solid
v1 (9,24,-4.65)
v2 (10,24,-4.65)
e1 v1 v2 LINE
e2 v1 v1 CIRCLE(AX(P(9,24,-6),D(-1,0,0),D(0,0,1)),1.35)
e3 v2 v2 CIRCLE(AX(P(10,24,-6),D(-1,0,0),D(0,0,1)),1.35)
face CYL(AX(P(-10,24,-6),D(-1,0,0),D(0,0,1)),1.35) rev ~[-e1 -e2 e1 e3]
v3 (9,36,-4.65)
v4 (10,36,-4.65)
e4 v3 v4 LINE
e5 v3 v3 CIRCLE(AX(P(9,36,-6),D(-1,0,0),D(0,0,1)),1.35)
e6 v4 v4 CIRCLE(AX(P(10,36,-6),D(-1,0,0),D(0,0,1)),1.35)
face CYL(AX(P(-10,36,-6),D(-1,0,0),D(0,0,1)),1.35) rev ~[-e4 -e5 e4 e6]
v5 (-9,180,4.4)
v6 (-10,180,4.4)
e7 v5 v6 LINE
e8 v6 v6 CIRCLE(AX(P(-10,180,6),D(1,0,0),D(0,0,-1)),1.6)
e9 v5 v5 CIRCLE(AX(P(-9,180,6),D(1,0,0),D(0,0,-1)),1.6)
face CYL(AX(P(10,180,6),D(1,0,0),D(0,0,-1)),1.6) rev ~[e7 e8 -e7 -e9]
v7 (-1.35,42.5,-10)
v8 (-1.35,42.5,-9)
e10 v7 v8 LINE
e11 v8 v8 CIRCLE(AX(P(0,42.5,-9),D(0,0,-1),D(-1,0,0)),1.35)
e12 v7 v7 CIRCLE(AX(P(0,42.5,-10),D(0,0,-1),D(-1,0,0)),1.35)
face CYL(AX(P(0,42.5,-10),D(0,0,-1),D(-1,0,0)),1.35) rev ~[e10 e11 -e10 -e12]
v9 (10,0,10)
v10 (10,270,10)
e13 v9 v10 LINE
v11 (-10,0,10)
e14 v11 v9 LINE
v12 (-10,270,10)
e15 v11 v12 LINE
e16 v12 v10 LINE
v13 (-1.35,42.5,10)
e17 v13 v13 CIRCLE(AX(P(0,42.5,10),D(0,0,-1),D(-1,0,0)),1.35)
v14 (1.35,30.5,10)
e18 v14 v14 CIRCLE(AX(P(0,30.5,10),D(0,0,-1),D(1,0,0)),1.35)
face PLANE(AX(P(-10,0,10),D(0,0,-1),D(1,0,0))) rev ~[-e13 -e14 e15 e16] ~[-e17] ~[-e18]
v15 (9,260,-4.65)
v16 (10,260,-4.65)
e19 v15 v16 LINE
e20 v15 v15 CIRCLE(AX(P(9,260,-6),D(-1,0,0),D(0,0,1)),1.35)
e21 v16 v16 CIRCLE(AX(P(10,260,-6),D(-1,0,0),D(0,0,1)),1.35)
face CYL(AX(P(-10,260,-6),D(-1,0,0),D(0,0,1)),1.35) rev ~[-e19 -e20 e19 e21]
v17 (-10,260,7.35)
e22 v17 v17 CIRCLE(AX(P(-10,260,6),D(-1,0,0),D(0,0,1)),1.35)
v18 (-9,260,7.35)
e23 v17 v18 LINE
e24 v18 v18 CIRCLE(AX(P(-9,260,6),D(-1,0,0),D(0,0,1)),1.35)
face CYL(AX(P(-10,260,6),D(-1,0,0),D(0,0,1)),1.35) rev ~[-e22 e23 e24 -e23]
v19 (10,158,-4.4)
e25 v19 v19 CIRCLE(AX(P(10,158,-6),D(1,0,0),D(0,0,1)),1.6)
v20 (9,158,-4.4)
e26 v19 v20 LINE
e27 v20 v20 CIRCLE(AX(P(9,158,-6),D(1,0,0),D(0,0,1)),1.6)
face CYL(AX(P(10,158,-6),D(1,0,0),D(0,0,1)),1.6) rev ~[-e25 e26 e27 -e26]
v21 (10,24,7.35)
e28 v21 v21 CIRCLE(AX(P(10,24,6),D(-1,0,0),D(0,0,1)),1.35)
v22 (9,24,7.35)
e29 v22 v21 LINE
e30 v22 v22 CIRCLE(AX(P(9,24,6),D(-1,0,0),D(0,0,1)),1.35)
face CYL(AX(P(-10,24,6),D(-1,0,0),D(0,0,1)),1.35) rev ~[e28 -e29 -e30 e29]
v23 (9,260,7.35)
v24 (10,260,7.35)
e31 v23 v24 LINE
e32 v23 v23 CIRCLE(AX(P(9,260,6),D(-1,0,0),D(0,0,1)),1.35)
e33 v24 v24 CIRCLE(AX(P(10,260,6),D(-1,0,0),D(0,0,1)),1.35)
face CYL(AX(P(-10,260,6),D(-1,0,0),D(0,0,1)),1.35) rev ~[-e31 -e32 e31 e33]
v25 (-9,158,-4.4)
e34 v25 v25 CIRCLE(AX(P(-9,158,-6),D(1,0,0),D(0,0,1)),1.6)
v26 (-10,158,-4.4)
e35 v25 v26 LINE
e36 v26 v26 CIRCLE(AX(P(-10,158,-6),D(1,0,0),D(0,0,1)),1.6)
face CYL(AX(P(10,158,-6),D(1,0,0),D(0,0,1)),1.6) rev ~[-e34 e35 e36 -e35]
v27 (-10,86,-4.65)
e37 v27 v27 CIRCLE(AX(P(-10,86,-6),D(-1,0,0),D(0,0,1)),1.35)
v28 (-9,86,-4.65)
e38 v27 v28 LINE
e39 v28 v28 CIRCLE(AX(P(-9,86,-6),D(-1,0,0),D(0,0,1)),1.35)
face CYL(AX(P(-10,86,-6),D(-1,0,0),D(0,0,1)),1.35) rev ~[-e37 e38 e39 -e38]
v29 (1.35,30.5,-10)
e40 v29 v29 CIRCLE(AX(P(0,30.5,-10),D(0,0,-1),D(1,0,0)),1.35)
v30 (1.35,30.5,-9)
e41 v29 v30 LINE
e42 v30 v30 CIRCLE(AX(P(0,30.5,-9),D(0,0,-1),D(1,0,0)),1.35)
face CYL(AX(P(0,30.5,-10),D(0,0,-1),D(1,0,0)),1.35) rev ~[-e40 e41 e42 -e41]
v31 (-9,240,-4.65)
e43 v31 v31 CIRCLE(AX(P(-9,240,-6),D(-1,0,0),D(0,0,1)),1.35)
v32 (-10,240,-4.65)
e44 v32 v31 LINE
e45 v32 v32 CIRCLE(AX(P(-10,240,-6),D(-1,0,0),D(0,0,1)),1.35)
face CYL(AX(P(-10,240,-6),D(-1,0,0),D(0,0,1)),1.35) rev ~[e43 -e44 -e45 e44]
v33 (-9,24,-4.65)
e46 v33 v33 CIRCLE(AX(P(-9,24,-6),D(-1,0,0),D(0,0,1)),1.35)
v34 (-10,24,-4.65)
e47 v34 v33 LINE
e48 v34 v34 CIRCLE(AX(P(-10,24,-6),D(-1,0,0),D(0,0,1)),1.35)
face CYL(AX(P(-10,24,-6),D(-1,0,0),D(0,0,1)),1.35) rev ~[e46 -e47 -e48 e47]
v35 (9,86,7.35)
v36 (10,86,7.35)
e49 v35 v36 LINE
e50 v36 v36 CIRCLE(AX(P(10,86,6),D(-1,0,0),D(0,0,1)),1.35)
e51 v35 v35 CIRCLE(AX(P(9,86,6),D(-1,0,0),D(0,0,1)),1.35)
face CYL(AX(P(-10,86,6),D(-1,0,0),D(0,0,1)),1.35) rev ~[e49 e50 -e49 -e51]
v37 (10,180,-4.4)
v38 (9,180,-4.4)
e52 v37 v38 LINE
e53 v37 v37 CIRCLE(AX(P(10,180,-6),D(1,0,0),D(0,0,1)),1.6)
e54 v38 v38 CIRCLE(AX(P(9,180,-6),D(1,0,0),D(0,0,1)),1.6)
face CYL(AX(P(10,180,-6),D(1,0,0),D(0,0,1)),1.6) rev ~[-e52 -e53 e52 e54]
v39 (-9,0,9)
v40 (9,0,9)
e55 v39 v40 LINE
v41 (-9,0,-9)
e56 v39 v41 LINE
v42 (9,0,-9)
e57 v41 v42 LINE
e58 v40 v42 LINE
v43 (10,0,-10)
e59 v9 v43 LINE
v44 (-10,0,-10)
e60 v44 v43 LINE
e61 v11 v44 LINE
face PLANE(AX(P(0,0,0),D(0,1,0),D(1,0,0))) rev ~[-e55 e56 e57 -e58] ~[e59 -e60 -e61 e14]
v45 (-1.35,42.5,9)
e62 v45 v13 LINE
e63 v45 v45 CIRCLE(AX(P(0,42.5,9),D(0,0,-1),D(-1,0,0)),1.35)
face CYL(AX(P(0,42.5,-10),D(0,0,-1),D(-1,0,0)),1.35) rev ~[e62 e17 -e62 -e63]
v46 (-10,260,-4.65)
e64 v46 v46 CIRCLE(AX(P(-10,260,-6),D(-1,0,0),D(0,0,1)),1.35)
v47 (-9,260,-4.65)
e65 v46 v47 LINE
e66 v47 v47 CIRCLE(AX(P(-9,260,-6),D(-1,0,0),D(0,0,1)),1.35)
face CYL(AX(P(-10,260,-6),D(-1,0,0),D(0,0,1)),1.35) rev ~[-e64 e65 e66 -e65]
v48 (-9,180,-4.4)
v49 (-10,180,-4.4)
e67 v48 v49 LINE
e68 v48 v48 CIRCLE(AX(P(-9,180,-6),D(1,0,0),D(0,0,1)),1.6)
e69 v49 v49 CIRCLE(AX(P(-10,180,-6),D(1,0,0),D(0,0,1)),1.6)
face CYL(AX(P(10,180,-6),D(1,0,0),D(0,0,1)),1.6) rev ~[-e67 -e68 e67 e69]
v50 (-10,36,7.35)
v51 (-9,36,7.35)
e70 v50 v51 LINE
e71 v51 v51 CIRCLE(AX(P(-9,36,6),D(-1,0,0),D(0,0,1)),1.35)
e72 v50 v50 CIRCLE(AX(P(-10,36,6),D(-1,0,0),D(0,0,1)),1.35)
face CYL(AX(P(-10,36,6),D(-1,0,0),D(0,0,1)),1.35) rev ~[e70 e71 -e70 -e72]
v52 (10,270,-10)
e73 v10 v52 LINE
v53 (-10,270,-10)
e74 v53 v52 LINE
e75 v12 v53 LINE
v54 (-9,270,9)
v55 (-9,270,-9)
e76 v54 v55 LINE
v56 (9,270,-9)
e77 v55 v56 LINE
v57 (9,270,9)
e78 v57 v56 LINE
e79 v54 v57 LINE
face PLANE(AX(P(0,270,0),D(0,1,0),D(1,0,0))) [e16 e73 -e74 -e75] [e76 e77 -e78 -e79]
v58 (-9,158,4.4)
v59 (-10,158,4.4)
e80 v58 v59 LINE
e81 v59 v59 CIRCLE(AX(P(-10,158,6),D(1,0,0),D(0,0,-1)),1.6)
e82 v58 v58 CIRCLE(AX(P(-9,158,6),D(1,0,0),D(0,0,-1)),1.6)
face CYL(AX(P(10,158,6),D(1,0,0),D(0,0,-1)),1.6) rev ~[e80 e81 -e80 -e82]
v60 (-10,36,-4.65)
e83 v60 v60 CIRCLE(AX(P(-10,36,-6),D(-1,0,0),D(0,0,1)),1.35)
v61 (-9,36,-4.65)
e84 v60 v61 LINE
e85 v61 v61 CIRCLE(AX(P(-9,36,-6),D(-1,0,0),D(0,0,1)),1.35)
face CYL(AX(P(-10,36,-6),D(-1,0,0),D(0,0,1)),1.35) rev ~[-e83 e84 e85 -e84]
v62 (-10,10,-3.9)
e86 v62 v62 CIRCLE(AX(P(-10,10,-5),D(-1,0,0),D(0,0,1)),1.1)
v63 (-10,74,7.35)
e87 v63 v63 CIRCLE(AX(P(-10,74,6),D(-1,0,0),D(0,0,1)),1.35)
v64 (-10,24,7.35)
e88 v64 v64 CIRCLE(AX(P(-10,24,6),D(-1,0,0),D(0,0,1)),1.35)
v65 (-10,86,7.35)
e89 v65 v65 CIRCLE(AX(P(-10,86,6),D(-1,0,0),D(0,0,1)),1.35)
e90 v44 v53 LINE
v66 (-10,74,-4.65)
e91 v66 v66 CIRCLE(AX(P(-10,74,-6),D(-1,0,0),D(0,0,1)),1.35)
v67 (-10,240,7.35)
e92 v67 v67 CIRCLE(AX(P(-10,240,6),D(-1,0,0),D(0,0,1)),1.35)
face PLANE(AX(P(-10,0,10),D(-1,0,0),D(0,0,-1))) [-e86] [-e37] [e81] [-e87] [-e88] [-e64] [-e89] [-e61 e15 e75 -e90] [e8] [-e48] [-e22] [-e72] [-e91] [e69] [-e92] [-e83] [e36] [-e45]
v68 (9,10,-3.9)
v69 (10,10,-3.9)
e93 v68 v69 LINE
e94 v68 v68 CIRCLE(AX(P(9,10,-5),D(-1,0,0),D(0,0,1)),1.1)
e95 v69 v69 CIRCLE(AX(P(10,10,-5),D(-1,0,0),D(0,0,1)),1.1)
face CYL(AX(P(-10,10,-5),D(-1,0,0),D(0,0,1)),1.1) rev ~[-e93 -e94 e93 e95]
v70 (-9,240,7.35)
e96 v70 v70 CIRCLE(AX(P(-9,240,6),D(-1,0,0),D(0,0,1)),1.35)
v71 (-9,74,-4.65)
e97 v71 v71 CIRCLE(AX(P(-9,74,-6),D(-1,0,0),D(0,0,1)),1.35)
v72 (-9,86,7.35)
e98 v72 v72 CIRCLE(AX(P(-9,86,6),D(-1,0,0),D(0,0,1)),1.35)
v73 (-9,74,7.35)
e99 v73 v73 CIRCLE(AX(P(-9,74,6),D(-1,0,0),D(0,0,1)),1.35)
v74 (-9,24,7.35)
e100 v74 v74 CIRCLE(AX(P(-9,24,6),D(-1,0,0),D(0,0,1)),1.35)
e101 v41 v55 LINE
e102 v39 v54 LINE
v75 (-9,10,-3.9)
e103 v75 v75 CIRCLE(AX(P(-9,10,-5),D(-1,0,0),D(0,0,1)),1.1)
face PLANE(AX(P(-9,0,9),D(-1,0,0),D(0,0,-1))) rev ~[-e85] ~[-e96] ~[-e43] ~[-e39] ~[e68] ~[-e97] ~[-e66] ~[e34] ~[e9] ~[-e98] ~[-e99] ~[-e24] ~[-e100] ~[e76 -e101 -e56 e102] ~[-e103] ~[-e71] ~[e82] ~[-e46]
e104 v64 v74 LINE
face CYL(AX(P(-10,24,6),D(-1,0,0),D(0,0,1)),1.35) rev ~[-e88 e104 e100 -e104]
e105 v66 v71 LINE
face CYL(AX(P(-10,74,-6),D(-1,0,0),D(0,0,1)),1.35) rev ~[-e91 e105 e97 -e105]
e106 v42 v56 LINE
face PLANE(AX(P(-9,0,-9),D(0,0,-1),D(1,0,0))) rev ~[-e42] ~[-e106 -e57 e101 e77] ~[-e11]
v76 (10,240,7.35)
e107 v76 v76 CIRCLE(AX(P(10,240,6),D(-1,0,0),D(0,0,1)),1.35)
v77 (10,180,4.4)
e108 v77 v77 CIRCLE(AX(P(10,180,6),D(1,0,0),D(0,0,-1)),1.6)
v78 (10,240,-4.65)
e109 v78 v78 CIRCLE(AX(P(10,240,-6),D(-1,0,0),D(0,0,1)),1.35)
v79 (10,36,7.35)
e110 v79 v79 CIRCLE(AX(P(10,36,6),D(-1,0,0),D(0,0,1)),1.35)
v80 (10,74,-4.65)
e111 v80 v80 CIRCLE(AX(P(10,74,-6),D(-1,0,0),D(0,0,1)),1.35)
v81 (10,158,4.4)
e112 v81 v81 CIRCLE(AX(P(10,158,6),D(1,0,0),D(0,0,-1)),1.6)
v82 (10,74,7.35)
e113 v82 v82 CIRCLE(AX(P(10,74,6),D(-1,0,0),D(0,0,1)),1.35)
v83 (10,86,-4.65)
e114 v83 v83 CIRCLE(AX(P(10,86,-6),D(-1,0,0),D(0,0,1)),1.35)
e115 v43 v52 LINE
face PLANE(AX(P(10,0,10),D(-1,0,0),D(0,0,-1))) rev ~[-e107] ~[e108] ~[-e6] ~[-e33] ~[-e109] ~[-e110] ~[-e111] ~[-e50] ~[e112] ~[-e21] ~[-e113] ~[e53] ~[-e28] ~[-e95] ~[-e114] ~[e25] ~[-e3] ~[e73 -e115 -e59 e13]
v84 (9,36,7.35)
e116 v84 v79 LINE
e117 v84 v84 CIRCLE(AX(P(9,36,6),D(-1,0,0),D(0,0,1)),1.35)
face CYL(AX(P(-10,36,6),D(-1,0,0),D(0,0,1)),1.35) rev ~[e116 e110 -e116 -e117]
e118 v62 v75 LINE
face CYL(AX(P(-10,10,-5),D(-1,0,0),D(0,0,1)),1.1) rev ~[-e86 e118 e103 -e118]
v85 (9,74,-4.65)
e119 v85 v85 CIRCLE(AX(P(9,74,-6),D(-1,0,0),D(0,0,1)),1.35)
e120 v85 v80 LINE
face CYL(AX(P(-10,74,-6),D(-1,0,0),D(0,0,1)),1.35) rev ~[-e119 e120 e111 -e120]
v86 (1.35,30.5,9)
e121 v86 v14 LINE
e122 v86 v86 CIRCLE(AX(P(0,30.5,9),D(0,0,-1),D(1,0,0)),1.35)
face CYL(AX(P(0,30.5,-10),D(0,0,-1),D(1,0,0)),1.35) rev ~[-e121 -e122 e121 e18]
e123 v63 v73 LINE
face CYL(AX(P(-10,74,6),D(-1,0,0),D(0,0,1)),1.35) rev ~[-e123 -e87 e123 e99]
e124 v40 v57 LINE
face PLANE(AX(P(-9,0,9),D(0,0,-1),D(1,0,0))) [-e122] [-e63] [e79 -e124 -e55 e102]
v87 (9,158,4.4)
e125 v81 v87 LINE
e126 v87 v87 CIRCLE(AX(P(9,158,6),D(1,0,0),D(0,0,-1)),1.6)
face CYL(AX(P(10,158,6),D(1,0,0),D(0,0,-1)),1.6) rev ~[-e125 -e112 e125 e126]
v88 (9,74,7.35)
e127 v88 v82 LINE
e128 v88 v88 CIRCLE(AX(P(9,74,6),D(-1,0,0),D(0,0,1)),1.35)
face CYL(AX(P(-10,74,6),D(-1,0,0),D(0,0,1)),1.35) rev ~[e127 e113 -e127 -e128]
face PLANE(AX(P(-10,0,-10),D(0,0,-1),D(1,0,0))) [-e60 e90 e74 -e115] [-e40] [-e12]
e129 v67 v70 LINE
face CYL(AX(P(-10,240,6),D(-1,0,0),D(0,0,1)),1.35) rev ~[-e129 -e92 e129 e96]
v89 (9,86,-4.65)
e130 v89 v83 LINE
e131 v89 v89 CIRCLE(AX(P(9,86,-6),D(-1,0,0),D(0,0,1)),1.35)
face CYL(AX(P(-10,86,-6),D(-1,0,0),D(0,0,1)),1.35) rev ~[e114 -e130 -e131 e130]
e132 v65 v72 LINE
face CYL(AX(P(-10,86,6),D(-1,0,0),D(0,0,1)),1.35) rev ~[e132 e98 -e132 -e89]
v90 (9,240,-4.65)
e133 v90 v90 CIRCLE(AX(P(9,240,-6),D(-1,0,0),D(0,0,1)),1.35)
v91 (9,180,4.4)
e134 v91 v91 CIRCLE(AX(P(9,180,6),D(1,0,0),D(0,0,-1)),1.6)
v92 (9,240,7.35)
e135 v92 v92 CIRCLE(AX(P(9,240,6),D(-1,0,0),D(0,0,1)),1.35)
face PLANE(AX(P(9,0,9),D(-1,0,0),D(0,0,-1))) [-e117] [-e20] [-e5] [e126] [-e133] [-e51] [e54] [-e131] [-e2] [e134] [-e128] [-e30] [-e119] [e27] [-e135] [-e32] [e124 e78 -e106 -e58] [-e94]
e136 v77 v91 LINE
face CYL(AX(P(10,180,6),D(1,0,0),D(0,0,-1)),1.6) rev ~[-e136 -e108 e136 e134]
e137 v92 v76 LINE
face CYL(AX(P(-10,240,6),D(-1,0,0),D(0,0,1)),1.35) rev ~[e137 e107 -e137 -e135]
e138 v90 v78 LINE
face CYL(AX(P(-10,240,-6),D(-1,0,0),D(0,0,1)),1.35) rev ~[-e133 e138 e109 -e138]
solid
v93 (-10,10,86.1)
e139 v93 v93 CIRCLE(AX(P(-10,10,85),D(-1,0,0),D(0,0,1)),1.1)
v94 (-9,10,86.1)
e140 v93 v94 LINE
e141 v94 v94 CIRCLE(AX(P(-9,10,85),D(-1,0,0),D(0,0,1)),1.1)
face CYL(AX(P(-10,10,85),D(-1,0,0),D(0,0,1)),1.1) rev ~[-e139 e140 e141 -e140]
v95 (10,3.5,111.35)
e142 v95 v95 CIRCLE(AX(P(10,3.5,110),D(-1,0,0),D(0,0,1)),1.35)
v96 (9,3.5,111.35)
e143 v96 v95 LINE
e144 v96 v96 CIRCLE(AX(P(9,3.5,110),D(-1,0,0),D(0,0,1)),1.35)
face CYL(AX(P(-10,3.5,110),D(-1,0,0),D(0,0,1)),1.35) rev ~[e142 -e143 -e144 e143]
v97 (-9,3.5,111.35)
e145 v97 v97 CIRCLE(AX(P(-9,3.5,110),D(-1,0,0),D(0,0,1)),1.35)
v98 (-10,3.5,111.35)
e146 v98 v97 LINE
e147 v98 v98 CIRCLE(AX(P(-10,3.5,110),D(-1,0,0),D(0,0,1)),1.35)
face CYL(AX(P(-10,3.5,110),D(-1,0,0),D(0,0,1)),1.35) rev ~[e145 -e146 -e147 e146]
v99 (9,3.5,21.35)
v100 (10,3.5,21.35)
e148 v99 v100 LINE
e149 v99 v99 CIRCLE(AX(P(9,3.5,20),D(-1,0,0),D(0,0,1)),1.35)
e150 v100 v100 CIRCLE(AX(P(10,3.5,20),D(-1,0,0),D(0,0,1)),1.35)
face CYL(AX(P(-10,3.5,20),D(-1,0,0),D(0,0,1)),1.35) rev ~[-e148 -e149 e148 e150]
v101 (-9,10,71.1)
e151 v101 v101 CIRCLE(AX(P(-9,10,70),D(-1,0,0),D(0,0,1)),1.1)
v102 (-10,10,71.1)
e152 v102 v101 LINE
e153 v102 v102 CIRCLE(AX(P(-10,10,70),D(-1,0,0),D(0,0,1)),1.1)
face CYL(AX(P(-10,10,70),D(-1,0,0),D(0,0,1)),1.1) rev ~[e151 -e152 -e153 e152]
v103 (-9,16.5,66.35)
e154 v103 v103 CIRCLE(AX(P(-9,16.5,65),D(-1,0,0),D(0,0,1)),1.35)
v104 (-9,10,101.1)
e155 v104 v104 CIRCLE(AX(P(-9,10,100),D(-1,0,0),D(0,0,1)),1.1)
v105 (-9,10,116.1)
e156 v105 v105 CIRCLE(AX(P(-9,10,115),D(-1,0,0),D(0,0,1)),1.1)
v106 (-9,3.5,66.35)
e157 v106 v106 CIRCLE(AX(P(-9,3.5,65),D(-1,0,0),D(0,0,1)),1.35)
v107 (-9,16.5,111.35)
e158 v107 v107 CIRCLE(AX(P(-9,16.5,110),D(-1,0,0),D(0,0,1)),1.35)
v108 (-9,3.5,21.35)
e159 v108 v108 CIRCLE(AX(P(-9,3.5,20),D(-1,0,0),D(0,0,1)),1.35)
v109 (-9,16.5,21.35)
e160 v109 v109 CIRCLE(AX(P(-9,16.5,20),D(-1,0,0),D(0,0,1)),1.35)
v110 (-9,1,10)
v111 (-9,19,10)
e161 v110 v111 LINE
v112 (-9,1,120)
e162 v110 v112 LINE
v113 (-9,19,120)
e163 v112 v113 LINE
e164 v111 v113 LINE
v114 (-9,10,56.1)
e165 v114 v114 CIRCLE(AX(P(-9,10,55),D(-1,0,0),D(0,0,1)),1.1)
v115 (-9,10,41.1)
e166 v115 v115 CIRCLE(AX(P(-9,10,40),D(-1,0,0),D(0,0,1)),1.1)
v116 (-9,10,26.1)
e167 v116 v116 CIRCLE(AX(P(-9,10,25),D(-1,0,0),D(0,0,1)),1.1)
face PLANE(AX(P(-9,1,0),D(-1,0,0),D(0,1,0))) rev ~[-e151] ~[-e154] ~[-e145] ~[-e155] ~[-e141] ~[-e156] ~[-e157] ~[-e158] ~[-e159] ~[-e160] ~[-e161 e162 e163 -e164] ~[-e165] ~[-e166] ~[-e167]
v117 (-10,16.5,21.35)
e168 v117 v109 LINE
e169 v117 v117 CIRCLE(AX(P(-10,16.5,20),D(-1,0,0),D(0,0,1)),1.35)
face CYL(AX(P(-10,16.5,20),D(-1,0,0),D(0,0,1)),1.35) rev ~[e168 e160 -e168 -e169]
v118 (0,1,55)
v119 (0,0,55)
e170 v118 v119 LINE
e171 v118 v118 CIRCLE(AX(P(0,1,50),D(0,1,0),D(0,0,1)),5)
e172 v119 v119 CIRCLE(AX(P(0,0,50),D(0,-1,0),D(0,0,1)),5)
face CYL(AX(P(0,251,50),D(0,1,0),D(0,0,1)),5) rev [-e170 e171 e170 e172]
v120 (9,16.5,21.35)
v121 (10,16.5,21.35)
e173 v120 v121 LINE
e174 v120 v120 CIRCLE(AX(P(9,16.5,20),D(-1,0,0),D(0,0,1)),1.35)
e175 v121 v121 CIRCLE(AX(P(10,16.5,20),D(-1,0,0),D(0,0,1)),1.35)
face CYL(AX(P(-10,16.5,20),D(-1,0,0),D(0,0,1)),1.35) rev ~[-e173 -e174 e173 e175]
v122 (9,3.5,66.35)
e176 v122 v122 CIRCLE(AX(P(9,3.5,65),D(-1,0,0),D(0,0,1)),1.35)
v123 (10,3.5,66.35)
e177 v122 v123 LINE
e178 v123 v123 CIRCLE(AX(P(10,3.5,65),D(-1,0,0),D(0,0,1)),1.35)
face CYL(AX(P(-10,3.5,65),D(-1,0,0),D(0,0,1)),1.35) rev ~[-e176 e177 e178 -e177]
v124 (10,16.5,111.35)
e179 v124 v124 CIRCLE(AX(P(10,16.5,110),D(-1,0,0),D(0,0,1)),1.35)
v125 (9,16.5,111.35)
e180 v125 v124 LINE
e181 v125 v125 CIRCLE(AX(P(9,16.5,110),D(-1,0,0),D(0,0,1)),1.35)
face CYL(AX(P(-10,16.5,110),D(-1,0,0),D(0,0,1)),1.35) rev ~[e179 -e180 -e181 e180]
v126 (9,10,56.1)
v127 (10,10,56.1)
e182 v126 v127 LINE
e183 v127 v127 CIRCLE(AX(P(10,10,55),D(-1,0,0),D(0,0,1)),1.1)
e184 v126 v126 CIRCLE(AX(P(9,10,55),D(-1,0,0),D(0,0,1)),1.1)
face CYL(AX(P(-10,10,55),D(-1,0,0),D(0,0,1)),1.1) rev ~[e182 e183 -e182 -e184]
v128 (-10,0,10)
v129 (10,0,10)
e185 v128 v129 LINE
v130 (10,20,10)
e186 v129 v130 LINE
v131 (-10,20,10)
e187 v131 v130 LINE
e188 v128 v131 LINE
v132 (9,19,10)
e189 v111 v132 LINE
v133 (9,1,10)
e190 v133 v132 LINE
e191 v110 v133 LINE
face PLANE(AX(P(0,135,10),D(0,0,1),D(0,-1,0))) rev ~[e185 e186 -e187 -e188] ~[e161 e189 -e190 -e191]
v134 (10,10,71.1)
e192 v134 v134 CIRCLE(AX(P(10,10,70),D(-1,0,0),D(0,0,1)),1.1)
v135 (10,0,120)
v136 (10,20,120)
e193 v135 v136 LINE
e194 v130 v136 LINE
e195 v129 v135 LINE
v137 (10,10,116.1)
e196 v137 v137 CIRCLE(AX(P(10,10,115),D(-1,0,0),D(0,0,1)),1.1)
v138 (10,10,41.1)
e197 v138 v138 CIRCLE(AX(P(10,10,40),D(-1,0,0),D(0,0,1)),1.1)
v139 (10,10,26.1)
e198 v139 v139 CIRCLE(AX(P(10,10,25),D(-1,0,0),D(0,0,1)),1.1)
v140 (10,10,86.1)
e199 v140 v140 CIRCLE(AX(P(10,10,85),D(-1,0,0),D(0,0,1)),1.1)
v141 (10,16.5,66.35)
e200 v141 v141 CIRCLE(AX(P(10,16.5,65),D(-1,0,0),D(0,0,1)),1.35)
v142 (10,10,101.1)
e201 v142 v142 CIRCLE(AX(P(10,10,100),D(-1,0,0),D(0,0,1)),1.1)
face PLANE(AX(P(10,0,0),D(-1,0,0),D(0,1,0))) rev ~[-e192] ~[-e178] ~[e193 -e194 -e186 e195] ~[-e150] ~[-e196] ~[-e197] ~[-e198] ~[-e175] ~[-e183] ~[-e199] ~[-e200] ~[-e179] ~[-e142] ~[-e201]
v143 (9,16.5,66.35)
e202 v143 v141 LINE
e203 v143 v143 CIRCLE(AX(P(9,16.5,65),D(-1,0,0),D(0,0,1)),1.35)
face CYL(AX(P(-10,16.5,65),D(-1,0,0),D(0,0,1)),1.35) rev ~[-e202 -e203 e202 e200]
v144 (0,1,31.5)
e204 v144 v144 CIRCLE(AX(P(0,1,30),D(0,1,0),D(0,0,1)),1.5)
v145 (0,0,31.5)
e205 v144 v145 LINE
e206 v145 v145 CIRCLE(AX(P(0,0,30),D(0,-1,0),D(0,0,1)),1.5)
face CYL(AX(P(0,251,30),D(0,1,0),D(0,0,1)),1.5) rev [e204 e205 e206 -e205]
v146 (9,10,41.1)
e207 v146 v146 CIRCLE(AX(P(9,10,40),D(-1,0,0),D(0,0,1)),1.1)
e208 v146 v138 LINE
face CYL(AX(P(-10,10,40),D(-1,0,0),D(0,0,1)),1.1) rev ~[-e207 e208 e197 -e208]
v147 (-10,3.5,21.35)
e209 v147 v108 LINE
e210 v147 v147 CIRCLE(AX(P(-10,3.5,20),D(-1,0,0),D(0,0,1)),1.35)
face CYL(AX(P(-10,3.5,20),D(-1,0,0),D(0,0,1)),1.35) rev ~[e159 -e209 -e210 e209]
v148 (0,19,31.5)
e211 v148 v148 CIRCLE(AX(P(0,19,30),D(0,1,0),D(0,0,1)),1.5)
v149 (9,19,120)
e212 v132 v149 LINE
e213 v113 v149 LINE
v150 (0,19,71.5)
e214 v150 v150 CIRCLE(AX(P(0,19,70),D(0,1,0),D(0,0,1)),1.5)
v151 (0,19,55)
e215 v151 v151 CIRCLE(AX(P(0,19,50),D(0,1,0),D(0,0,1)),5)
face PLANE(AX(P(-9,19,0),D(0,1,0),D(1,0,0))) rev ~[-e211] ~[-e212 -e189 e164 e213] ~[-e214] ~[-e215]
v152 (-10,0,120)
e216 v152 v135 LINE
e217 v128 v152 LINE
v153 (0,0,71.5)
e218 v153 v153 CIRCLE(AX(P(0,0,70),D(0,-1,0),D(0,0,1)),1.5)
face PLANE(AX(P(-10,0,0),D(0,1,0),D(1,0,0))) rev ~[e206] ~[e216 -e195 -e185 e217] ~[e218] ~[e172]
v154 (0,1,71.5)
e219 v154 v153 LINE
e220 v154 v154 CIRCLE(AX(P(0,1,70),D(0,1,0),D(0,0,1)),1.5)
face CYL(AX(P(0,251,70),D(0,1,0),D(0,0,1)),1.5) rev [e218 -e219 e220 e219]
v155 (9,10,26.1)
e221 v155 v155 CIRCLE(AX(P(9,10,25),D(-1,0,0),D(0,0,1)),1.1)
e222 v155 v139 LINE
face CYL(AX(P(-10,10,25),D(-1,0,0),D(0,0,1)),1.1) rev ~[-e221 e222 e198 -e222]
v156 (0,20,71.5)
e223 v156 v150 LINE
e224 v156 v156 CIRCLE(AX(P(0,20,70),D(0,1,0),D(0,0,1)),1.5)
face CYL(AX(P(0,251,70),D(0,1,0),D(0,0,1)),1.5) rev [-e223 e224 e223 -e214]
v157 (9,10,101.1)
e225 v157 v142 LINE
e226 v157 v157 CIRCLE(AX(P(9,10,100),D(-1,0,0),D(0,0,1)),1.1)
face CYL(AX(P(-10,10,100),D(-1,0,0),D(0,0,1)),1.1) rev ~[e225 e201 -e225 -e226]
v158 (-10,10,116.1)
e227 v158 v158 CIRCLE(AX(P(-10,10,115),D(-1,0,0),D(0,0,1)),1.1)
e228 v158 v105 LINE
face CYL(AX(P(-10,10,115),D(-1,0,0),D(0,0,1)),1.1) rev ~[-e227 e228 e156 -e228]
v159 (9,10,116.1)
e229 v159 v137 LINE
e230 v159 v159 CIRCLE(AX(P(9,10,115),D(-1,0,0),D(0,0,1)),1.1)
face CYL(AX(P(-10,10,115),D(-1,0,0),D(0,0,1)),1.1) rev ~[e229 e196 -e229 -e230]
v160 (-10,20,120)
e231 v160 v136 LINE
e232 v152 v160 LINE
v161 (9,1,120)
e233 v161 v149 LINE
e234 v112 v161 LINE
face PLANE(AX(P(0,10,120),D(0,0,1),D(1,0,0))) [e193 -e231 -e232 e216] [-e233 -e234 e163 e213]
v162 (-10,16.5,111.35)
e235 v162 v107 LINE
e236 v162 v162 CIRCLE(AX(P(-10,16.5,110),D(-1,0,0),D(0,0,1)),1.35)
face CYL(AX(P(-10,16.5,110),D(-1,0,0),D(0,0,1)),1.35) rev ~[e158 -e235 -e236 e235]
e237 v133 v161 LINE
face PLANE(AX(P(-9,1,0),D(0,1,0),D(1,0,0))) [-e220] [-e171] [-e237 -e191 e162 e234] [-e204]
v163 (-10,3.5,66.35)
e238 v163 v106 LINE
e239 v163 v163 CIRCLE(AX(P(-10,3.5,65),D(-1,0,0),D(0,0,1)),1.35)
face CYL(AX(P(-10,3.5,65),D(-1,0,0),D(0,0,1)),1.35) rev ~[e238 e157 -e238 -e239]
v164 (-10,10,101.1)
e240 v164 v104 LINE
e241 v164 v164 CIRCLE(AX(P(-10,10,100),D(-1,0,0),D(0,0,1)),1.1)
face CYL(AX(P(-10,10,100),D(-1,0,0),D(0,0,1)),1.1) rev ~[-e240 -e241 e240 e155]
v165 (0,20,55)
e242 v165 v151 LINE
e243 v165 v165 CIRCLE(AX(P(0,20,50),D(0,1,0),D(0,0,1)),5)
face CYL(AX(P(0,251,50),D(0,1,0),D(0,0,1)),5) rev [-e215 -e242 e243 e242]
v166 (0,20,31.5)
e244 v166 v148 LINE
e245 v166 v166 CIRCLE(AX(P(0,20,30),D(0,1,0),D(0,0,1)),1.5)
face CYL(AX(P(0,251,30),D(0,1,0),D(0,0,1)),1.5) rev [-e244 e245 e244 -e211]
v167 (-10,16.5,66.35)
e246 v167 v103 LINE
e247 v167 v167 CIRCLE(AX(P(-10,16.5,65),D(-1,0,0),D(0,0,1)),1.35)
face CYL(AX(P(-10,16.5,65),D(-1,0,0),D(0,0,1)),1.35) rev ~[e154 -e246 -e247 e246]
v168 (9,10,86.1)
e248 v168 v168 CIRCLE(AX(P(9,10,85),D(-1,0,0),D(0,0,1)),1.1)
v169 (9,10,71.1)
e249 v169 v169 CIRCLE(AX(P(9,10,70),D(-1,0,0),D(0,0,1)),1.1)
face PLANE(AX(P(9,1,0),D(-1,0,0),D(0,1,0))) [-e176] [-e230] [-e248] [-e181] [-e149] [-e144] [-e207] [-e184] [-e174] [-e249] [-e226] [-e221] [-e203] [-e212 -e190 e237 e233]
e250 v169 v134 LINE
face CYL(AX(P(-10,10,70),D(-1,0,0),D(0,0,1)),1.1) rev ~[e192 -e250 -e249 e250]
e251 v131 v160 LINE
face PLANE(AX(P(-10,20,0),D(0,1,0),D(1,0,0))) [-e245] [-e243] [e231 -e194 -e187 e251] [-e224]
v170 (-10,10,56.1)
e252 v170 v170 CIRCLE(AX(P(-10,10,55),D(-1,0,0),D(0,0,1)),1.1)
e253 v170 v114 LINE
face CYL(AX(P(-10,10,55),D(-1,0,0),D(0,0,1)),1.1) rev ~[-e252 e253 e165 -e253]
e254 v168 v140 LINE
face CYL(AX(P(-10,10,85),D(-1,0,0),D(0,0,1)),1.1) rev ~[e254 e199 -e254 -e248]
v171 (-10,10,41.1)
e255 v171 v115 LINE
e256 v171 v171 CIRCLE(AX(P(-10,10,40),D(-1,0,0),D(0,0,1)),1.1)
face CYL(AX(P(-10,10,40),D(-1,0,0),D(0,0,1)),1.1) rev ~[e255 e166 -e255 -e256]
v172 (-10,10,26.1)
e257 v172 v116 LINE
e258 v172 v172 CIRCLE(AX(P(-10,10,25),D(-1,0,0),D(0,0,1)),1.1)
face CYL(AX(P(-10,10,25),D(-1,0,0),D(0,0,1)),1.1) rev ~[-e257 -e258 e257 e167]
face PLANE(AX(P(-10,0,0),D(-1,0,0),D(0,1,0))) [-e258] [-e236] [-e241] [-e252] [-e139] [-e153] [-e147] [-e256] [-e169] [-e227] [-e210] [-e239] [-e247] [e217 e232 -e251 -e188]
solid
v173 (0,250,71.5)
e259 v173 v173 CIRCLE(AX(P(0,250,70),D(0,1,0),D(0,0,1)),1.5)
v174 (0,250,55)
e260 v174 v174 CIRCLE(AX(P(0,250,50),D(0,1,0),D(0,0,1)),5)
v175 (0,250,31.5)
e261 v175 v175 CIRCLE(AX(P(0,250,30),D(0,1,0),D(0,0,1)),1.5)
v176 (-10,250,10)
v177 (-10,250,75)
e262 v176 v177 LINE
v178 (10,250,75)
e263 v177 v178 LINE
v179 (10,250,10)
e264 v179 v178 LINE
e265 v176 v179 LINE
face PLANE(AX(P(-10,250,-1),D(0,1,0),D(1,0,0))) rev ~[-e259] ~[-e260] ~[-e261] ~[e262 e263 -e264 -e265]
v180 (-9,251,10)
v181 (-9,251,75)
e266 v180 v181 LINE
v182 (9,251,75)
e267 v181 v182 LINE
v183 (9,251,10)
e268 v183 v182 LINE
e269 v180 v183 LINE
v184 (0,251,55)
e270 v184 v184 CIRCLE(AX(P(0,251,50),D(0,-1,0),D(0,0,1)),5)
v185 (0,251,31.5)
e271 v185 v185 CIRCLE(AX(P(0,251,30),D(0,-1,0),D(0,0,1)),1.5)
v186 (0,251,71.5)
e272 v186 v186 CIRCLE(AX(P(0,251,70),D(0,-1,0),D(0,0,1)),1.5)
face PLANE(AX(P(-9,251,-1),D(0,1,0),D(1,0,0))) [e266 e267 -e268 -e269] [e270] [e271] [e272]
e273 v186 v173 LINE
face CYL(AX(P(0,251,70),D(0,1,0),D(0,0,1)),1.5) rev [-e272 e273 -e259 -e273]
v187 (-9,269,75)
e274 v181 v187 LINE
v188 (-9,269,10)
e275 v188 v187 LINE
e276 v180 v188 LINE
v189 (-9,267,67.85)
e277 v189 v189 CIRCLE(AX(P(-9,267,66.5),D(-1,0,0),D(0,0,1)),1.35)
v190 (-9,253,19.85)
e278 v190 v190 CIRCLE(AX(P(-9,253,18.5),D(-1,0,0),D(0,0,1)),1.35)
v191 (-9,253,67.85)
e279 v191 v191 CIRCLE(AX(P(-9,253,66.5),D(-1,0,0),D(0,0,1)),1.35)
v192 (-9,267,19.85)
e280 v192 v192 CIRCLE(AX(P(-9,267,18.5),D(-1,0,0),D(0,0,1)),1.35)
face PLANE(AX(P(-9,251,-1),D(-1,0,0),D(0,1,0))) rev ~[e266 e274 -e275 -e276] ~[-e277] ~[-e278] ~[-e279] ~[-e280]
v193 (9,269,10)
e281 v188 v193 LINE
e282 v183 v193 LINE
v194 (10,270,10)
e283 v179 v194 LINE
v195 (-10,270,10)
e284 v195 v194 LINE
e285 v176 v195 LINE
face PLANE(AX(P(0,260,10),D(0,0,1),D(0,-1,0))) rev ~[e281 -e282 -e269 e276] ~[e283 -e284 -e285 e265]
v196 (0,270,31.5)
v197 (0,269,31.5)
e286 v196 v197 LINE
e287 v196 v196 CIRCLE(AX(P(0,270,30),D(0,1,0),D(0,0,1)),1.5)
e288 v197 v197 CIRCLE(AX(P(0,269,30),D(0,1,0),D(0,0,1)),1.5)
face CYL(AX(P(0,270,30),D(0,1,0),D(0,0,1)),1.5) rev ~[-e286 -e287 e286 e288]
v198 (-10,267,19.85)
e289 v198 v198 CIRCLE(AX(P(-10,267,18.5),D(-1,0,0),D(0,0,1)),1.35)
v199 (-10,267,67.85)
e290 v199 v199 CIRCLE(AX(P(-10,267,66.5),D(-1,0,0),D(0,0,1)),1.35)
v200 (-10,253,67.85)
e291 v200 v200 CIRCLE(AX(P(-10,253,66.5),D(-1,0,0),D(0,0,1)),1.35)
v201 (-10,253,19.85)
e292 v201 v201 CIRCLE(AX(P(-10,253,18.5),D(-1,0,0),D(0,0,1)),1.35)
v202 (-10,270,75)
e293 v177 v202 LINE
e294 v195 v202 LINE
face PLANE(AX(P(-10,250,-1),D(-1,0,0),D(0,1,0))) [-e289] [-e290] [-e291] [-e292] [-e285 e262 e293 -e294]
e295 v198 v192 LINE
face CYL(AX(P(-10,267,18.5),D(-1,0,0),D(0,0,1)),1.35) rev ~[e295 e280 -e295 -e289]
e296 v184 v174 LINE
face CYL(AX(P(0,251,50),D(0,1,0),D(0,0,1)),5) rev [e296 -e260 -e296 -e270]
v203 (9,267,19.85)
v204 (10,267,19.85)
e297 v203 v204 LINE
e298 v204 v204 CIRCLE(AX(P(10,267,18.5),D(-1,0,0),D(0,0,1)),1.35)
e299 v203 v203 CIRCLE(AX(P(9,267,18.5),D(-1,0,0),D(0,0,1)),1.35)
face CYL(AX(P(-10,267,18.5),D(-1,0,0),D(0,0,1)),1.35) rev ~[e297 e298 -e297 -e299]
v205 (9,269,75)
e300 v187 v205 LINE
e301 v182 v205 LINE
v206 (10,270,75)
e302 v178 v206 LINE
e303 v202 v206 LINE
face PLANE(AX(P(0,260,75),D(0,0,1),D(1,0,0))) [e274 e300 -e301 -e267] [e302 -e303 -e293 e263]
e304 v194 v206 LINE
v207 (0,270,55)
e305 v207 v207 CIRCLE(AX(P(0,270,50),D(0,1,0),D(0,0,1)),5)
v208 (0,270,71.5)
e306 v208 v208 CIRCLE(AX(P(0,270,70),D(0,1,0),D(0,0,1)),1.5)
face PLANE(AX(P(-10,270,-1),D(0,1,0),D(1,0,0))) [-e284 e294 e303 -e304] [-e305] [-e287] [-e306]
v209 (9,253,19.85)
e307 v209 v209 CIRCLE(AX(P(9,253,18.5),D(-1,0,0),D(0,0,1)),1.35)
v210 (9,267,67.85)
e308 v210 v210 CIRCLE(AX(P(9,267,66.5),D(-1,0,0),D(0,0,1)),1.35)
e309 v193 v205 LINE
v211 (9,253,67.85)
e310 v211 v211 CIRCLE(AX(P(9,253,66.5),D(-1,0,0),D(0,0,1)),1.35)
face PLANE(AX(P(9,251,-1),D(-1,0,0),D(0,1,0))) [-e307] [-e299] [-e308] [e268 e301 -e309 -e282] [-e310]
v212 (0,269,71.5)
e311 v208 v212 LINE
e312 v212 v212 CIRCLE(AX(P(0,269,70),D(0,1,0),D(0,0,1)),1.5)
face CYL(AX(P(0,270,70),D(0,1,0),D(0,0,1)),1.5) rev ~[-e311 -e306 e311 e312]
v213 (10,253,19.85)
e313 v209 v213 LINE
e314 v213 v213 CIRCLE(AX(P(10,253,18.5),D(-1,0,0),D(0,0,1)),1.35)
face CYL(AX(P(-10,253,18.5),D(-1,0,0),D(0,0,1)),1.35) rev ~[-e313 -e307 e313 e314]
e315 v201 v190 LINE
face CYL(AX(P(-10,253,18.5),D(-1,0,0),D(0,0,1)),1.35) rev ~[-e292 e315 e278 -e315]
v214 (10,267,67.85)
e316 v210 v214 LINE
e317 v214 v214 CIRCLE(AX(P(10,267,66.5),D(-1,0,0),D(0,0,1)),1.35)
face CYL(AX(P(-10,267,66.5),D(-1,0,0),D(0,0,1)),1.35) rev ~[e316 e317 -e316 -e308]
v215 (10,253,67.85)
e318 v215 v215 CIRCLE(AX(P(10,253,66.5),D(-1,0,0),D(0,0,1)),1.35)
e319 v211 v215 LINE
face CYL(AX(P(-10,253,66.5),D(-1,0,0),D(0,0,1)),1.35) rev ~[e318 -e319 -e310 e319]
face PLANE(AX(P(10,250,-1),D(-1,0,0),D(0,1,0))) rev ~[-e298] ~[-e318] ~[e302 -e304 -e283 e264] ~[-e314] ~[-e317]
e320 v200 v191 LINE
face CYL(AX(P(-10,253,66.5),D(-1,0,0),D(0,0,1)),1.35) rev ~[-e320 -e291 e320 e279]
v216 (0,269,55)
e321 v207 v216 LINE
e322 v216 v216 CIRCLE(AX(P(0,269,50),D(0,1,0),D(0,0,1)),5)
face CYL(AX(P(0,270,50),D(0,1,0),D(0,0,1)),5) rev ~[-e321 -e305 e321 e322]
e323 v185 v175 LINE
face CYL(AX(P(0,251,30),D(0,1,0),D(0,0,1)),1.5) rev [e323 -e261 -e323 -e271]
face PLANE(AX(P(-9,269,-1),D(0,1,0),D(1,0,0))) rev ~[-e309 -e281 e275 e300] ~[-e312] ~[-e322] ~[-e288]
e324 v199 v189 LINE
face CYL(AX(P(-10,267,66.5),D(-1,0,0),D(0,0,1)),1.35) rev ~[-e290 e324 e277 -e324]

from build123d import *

# Parameters (mm, degrees)
SKETCH1_W                = 20
SKETCH1_H                = 20
SKETCH1_W_2              = 18
SKETCH1_H_2              = 18
F_25_X_10_X_1_1_DEPTH    = 270
SKETCH1_ON_SEGMENT_2_W   = 20
SKETCH1_ON_SEGMENT_2_H   = 20
SKETCH1_ON_SEGMENT_2_W_2 = 18
SKETCH1_ON_SEGMENT_2_H_2 = 18
F_25_X_10_X_1_1_2_DEPTH  = 76
SKETCH12_W               = 20
SKETCH12_H               = 20
SKETCH12_W_2             = 18
SKETCH12_H_2             = 18
F_20_X_20_X_2_3_DEPTH    = 120
CUT_EXTRUDE_START        = -1
SKETCH_4_R               = 1.5
CUT_EXTRUDE_1_DEPTH      = 251
SKETCH_5_R               = 5
CUT_EXTRUDE_2_DEPTH      = 251
SKETCH_6_R               = 1.5
SKETCH_6_R_2             = 5
CUT_EXTRUDE_3_DEPTH      = 1
SKETCH_9_R               = 1.35
SKETCH_9_R_2             = 1.1
CUT_EXTRUDE_6_DEPTH      = 297.141857899
SKETCH_12_R              = 1.35
CUT_EXTRUDE_7_DEPTH      = 300.833287011
SKETCH_15_R              = 1.6
CUT_EXTRUDE_8_DEPTH      = 297.141857899


with BuildPart() as part:
    # Sketch1 → 方形管 25 X 10 X 1(1) (new body)
    with BuildSketch(Plane(origin=(0, 0, 0), x_dir=(1, 0, 0), z_dir=(0, 1, 0))):
        Rectangle(SKETCH1_W, SKETCH1_H)
        Rectangle(SKETCH1_W_2, SKETCH1_H_2, mode=Mode.SUBTRACT)
    extrude(amount=F_25_X_10_X_1_1_DEPTH)


with BuildPart() as body_2:
    # Sketch1 on segment 2 (carried to segment 2) → 25 X 10 X 1_1 2 (new body)
    with BuildSketch(Plane(origin=(0, 260, -1), x_dir=(1, 0, 0), z_dir=(0, 0, 1))):
        Rectangle(SKETCH1_ON_SEGMENT_2_W, SKETCH1_ON_SEGMENT_2_H)
        Rectangle(SKETCH1_ON_SEGMENT_2_W_2, SKETCH1_ON_SEGMENT_2_H_2, mode=Mode.SUBTRACT)
    extrude(amount=F_25_X_10_X_1_1_2_DEPTH)

    # 25 X 10 X 1_1 2 end butt 1
    split(bisect_by=Plane(origin=(0, 260, 10), x_dir=(0, -1, 0), z_dir=(0, 0, 1)), keep=Keep.TOP)


with BuildPart() as body_3:
    # Sketch12 → 方形管 20 X 20 X 2(3) (new body)
    with BuildSketch(Plane(origin=(0, 10, 0), x_dir=(1, 0, 0), z_dir=(0, 0, 1))):
        Rectangle(SKETCH12_W, SKETCH12_H)
        Rectangle(SKETCH12_W_2, SKETCH12_H_2, mode=Mode.SUBTRACT)
    extrude(amount=F_20_X_20_X_2_3_DEPTH)

    # Weld Trim 2
    split(bisect_by=Plane(origin=(0, 135, 10), x_dir=(0, -1, 0), z_dir=(0, 0, 1)), keep=Keep.TOP)


with BuildPart() as cut_extrude_1_tool:
    # 草图4 → 切除-拉伸1 (new body)
    with BuildSketch(Plane.XZ.offset(-250).offset(CUT_EXTRUDE_START)):
        with Locations(Location((0, 70, 0), (0, 0, 90))):
            Circle(SKETCH_4_R)
        with Locations(Location((0, 30, 0), (0, 0, 90))):
            Circle(SKETCH_4_R)
    extrude(amount=CUT_EXTRUDE_1_DEPTH)


with BuildPart() as body_2_1:
    add(body_2.part)

    # 切除-拉伸1: cut by cut_extrude_1_tool
    add(cut_extrude_1_tool.part, mode=Mode.SUBTRACT)


with BuildPart() as body_3_1:
    add(body_3.part)

    # 切除-拉伸1: cut by cut_extrude_1_tool
    add(cut_extrude_1_tool.part, mode=Mode.SUBTRACT)


with BuildPart() as cut_extrude_2_tool:
    # 草图5 → 切除-拉伸2 (new body)
    with BuildSketch(Plane.XZ.offset(-250).offset(CUT_EXTRUDE_START)):
        with Locations(Location((0, 50, 0), (0, 0, 90))):
            Circle(SKETCH_5_R)
    extrude(amount=CUT_EXTRUDE_2_DEPTH)


with BuildPart() as body_2_2:
    add(body_2_1.part)

    # 切除-拉伸2: cut by cut_extrude_2_tool
    add(cut_extrude_2_tool.part, mode=Mode.SUBTRACT)

    # 草图6 → 切除-拉伸3 (cut)
    with BuildSketch(Plane(origin=(0, 270, 0), x_dir=(1, 0, 0), z_dir=(0, 1, 0))):
        with Locations(Location((0, -30, 0), (0, 0, 270))):
            Circle(SKETCH_6_R)
        with Locations(Location((0, -50, 0), (0, 0, 270))):
            Circle(SKETCH_6_R_2)
        with Locations(Location((0, -70, 0), (0, 0, 270))):
            Circle(SKETCH_6_R)
    extrude(amount=-CUT_EXTRUDE_3_DEPTH, mode=Mode.SUBTRACT)


with BuildPart() as body_3_2:
    add(body_3_1.part)

    # 切除-拉伸2: cut by cut_extrude_2_tool
    add(cut_extrude_2_tool.part, mode=Mode.SUBTRACT)


with BuildPart() as cut_extrude_6_tool:
    # 草图9 → 切除-拉伸6 (new, through all)
    with BuildSketch(Plane.ZY.offset(10)):
        with Locations((-6, 74)):
            Circle(SKETCH_9_R)
        with Locations((-6, 240)):
            Circle(SKETCH_9_R)
        with Locations((-6, 86)):
            Circle(SKETCH_9_R)
        with Locations((6, 86)):
            Circle(SKETCH_9_R)
        with Locations((6, 74)):
            Circle(SKETCH_9_R)
        with Locations((6, 240)):
            Circle(SKETCH_9_R)
        with Locations((115, 10)):
            Circle(SKETCH_9_R_2)
        with Locations((100, 10)):
            Circle(SKETCH_9_R_2)
        with Locations((85, 10)):
            Circle(SKETCH_9_R_2)
        with Locations((70, 10)):
            Circle(SKETCH_9_R_2)
        with Locations((-6, 36)):
            Circle(SKETCH_9_R)
        with Locations((6, 36)):
            Circle(SKETCH_9_R)
        with Locations((-6, 24)):
            Circle(SKETCH_9_R)
        with Locations((6, -4)):
            Circle(SKETCH_9_R)
        with Locations((-6, -4)):
            Circle(SKETCH_9_R)
        with Locations((6, -16)):
            Circle(SKETCH_9_R)
        with Locations((-6, -16)):
            Circle(SKETCH_9_R)
        with Locations((6, 24)):
            Circle(SKETCH_9_R)
        with Locations((55, 10)):
            Circle(SKETCH_9_R_2)
        with Locations((40, 10)):
            Circle(SKETCH_9_R_2)
        with Locations((25, 10)):
            Circle(SKETCH_9_R_2)
        with Locations((-5, 10)):
            Circle(SKETCH_9_R_2)
        with Locations((20, 16.5)):
            Circle(SKETCH_9_R)
        with Locations((20, 3.5)):
            Circle(SKETCH_9_R)
        with Locations((-6, 260)):
            Circle(SKETCH_9_R)
        with Locations((6, 260)):
            Circle(SKETCH_9_R)
        with Locations((18.5, 267)):
            Circle(SKETCH_9_R)
        with Locations((66.5, 267)):
            Circle(SKETCH_9_R)
        with Locations((66.5, 253)):
            Circle(SKETCH_9_R)
        with Locations((18.5, 253)):
            Circle(SKETCH_9_R)
        with Locations((110, 3.5)):
            Circle(SKETCH_9_R)
        with Locations((110, 16.5)):
            Circle(SKETCH_9_R)
        with Locations((65, 16.5)):
            Circle(SKETCH_9_R)
        with Locations((65, 3.5)):
            Circle(SKETCH_9_R)
    extrude(amount=-CUT_EXTRUDE_6_DEPTH)


with BuildPart() as part_1:
    add(part.part)

    # 切除-拉伸6: cut by cut_extrude_6_tool
    add(cut_extrude_6_tool.part, mode=Mode.SUBTRACT)

    # 草图12 → 切除-拉伸7 (cut, through all)
    with BuildSketch(Plane(origin=(0, 0, -10), x_dir=(-1, 0, 0), z_dir=(0, 0, -1))):
        with Locations((0, 42.5)):
            Circle(SKETCH_12_R)
        with Locations(Location((0, 30.5, 0), (0, 0, 180))):
            Circle(SKETCH_12_R)
    extrude(amount=-CUT_EXTRUDE_7_DEPTH, mode=Mode.SUBTRACT)

    # 草图15 → 切除-拉伸8 (cut, through all)
    with BuildSketch(Plane(origin=(10, 0, 0), x_dir=(0, 0, -1), z_dir=(1, 0, 0))):
        with Locations((-6, 180)):
            Circle(SKETCH_15_R)
        with Locations((-6, 158)):
            Circle(SKETCH_15_R)
        with Locations(Location((6, 158, 0), (0, 0, 180))):
            Circle(SKETCH_15_R)
        with Locations(Location((6, 180, 0), (0, 0, 180))):
            Circle(SKETCH_15_R)
    extrude(amount=-CUT_EXTRUDE_8_DEPTH, mode=Mode.SUBTRACT)


with BuildPart() as body_2_3:
    add(body_2_2.part)

    # 切除-拉伸6: cut by cut_extrude_6_tool
    add(cut_extrude_6_tool.part, mode=Mode.SUBTRACT)


with BuildPart() as body_3_3:
    add(body_3_2.part)

    # 切除-拉伸6: cut by cut_extrude_6_tool
    add(cut_extrude_6_tool.part, mode=Mode.SUBTRACT)


solid = Compound([part_1.part, body_2_3.part, body_3_3.part])
